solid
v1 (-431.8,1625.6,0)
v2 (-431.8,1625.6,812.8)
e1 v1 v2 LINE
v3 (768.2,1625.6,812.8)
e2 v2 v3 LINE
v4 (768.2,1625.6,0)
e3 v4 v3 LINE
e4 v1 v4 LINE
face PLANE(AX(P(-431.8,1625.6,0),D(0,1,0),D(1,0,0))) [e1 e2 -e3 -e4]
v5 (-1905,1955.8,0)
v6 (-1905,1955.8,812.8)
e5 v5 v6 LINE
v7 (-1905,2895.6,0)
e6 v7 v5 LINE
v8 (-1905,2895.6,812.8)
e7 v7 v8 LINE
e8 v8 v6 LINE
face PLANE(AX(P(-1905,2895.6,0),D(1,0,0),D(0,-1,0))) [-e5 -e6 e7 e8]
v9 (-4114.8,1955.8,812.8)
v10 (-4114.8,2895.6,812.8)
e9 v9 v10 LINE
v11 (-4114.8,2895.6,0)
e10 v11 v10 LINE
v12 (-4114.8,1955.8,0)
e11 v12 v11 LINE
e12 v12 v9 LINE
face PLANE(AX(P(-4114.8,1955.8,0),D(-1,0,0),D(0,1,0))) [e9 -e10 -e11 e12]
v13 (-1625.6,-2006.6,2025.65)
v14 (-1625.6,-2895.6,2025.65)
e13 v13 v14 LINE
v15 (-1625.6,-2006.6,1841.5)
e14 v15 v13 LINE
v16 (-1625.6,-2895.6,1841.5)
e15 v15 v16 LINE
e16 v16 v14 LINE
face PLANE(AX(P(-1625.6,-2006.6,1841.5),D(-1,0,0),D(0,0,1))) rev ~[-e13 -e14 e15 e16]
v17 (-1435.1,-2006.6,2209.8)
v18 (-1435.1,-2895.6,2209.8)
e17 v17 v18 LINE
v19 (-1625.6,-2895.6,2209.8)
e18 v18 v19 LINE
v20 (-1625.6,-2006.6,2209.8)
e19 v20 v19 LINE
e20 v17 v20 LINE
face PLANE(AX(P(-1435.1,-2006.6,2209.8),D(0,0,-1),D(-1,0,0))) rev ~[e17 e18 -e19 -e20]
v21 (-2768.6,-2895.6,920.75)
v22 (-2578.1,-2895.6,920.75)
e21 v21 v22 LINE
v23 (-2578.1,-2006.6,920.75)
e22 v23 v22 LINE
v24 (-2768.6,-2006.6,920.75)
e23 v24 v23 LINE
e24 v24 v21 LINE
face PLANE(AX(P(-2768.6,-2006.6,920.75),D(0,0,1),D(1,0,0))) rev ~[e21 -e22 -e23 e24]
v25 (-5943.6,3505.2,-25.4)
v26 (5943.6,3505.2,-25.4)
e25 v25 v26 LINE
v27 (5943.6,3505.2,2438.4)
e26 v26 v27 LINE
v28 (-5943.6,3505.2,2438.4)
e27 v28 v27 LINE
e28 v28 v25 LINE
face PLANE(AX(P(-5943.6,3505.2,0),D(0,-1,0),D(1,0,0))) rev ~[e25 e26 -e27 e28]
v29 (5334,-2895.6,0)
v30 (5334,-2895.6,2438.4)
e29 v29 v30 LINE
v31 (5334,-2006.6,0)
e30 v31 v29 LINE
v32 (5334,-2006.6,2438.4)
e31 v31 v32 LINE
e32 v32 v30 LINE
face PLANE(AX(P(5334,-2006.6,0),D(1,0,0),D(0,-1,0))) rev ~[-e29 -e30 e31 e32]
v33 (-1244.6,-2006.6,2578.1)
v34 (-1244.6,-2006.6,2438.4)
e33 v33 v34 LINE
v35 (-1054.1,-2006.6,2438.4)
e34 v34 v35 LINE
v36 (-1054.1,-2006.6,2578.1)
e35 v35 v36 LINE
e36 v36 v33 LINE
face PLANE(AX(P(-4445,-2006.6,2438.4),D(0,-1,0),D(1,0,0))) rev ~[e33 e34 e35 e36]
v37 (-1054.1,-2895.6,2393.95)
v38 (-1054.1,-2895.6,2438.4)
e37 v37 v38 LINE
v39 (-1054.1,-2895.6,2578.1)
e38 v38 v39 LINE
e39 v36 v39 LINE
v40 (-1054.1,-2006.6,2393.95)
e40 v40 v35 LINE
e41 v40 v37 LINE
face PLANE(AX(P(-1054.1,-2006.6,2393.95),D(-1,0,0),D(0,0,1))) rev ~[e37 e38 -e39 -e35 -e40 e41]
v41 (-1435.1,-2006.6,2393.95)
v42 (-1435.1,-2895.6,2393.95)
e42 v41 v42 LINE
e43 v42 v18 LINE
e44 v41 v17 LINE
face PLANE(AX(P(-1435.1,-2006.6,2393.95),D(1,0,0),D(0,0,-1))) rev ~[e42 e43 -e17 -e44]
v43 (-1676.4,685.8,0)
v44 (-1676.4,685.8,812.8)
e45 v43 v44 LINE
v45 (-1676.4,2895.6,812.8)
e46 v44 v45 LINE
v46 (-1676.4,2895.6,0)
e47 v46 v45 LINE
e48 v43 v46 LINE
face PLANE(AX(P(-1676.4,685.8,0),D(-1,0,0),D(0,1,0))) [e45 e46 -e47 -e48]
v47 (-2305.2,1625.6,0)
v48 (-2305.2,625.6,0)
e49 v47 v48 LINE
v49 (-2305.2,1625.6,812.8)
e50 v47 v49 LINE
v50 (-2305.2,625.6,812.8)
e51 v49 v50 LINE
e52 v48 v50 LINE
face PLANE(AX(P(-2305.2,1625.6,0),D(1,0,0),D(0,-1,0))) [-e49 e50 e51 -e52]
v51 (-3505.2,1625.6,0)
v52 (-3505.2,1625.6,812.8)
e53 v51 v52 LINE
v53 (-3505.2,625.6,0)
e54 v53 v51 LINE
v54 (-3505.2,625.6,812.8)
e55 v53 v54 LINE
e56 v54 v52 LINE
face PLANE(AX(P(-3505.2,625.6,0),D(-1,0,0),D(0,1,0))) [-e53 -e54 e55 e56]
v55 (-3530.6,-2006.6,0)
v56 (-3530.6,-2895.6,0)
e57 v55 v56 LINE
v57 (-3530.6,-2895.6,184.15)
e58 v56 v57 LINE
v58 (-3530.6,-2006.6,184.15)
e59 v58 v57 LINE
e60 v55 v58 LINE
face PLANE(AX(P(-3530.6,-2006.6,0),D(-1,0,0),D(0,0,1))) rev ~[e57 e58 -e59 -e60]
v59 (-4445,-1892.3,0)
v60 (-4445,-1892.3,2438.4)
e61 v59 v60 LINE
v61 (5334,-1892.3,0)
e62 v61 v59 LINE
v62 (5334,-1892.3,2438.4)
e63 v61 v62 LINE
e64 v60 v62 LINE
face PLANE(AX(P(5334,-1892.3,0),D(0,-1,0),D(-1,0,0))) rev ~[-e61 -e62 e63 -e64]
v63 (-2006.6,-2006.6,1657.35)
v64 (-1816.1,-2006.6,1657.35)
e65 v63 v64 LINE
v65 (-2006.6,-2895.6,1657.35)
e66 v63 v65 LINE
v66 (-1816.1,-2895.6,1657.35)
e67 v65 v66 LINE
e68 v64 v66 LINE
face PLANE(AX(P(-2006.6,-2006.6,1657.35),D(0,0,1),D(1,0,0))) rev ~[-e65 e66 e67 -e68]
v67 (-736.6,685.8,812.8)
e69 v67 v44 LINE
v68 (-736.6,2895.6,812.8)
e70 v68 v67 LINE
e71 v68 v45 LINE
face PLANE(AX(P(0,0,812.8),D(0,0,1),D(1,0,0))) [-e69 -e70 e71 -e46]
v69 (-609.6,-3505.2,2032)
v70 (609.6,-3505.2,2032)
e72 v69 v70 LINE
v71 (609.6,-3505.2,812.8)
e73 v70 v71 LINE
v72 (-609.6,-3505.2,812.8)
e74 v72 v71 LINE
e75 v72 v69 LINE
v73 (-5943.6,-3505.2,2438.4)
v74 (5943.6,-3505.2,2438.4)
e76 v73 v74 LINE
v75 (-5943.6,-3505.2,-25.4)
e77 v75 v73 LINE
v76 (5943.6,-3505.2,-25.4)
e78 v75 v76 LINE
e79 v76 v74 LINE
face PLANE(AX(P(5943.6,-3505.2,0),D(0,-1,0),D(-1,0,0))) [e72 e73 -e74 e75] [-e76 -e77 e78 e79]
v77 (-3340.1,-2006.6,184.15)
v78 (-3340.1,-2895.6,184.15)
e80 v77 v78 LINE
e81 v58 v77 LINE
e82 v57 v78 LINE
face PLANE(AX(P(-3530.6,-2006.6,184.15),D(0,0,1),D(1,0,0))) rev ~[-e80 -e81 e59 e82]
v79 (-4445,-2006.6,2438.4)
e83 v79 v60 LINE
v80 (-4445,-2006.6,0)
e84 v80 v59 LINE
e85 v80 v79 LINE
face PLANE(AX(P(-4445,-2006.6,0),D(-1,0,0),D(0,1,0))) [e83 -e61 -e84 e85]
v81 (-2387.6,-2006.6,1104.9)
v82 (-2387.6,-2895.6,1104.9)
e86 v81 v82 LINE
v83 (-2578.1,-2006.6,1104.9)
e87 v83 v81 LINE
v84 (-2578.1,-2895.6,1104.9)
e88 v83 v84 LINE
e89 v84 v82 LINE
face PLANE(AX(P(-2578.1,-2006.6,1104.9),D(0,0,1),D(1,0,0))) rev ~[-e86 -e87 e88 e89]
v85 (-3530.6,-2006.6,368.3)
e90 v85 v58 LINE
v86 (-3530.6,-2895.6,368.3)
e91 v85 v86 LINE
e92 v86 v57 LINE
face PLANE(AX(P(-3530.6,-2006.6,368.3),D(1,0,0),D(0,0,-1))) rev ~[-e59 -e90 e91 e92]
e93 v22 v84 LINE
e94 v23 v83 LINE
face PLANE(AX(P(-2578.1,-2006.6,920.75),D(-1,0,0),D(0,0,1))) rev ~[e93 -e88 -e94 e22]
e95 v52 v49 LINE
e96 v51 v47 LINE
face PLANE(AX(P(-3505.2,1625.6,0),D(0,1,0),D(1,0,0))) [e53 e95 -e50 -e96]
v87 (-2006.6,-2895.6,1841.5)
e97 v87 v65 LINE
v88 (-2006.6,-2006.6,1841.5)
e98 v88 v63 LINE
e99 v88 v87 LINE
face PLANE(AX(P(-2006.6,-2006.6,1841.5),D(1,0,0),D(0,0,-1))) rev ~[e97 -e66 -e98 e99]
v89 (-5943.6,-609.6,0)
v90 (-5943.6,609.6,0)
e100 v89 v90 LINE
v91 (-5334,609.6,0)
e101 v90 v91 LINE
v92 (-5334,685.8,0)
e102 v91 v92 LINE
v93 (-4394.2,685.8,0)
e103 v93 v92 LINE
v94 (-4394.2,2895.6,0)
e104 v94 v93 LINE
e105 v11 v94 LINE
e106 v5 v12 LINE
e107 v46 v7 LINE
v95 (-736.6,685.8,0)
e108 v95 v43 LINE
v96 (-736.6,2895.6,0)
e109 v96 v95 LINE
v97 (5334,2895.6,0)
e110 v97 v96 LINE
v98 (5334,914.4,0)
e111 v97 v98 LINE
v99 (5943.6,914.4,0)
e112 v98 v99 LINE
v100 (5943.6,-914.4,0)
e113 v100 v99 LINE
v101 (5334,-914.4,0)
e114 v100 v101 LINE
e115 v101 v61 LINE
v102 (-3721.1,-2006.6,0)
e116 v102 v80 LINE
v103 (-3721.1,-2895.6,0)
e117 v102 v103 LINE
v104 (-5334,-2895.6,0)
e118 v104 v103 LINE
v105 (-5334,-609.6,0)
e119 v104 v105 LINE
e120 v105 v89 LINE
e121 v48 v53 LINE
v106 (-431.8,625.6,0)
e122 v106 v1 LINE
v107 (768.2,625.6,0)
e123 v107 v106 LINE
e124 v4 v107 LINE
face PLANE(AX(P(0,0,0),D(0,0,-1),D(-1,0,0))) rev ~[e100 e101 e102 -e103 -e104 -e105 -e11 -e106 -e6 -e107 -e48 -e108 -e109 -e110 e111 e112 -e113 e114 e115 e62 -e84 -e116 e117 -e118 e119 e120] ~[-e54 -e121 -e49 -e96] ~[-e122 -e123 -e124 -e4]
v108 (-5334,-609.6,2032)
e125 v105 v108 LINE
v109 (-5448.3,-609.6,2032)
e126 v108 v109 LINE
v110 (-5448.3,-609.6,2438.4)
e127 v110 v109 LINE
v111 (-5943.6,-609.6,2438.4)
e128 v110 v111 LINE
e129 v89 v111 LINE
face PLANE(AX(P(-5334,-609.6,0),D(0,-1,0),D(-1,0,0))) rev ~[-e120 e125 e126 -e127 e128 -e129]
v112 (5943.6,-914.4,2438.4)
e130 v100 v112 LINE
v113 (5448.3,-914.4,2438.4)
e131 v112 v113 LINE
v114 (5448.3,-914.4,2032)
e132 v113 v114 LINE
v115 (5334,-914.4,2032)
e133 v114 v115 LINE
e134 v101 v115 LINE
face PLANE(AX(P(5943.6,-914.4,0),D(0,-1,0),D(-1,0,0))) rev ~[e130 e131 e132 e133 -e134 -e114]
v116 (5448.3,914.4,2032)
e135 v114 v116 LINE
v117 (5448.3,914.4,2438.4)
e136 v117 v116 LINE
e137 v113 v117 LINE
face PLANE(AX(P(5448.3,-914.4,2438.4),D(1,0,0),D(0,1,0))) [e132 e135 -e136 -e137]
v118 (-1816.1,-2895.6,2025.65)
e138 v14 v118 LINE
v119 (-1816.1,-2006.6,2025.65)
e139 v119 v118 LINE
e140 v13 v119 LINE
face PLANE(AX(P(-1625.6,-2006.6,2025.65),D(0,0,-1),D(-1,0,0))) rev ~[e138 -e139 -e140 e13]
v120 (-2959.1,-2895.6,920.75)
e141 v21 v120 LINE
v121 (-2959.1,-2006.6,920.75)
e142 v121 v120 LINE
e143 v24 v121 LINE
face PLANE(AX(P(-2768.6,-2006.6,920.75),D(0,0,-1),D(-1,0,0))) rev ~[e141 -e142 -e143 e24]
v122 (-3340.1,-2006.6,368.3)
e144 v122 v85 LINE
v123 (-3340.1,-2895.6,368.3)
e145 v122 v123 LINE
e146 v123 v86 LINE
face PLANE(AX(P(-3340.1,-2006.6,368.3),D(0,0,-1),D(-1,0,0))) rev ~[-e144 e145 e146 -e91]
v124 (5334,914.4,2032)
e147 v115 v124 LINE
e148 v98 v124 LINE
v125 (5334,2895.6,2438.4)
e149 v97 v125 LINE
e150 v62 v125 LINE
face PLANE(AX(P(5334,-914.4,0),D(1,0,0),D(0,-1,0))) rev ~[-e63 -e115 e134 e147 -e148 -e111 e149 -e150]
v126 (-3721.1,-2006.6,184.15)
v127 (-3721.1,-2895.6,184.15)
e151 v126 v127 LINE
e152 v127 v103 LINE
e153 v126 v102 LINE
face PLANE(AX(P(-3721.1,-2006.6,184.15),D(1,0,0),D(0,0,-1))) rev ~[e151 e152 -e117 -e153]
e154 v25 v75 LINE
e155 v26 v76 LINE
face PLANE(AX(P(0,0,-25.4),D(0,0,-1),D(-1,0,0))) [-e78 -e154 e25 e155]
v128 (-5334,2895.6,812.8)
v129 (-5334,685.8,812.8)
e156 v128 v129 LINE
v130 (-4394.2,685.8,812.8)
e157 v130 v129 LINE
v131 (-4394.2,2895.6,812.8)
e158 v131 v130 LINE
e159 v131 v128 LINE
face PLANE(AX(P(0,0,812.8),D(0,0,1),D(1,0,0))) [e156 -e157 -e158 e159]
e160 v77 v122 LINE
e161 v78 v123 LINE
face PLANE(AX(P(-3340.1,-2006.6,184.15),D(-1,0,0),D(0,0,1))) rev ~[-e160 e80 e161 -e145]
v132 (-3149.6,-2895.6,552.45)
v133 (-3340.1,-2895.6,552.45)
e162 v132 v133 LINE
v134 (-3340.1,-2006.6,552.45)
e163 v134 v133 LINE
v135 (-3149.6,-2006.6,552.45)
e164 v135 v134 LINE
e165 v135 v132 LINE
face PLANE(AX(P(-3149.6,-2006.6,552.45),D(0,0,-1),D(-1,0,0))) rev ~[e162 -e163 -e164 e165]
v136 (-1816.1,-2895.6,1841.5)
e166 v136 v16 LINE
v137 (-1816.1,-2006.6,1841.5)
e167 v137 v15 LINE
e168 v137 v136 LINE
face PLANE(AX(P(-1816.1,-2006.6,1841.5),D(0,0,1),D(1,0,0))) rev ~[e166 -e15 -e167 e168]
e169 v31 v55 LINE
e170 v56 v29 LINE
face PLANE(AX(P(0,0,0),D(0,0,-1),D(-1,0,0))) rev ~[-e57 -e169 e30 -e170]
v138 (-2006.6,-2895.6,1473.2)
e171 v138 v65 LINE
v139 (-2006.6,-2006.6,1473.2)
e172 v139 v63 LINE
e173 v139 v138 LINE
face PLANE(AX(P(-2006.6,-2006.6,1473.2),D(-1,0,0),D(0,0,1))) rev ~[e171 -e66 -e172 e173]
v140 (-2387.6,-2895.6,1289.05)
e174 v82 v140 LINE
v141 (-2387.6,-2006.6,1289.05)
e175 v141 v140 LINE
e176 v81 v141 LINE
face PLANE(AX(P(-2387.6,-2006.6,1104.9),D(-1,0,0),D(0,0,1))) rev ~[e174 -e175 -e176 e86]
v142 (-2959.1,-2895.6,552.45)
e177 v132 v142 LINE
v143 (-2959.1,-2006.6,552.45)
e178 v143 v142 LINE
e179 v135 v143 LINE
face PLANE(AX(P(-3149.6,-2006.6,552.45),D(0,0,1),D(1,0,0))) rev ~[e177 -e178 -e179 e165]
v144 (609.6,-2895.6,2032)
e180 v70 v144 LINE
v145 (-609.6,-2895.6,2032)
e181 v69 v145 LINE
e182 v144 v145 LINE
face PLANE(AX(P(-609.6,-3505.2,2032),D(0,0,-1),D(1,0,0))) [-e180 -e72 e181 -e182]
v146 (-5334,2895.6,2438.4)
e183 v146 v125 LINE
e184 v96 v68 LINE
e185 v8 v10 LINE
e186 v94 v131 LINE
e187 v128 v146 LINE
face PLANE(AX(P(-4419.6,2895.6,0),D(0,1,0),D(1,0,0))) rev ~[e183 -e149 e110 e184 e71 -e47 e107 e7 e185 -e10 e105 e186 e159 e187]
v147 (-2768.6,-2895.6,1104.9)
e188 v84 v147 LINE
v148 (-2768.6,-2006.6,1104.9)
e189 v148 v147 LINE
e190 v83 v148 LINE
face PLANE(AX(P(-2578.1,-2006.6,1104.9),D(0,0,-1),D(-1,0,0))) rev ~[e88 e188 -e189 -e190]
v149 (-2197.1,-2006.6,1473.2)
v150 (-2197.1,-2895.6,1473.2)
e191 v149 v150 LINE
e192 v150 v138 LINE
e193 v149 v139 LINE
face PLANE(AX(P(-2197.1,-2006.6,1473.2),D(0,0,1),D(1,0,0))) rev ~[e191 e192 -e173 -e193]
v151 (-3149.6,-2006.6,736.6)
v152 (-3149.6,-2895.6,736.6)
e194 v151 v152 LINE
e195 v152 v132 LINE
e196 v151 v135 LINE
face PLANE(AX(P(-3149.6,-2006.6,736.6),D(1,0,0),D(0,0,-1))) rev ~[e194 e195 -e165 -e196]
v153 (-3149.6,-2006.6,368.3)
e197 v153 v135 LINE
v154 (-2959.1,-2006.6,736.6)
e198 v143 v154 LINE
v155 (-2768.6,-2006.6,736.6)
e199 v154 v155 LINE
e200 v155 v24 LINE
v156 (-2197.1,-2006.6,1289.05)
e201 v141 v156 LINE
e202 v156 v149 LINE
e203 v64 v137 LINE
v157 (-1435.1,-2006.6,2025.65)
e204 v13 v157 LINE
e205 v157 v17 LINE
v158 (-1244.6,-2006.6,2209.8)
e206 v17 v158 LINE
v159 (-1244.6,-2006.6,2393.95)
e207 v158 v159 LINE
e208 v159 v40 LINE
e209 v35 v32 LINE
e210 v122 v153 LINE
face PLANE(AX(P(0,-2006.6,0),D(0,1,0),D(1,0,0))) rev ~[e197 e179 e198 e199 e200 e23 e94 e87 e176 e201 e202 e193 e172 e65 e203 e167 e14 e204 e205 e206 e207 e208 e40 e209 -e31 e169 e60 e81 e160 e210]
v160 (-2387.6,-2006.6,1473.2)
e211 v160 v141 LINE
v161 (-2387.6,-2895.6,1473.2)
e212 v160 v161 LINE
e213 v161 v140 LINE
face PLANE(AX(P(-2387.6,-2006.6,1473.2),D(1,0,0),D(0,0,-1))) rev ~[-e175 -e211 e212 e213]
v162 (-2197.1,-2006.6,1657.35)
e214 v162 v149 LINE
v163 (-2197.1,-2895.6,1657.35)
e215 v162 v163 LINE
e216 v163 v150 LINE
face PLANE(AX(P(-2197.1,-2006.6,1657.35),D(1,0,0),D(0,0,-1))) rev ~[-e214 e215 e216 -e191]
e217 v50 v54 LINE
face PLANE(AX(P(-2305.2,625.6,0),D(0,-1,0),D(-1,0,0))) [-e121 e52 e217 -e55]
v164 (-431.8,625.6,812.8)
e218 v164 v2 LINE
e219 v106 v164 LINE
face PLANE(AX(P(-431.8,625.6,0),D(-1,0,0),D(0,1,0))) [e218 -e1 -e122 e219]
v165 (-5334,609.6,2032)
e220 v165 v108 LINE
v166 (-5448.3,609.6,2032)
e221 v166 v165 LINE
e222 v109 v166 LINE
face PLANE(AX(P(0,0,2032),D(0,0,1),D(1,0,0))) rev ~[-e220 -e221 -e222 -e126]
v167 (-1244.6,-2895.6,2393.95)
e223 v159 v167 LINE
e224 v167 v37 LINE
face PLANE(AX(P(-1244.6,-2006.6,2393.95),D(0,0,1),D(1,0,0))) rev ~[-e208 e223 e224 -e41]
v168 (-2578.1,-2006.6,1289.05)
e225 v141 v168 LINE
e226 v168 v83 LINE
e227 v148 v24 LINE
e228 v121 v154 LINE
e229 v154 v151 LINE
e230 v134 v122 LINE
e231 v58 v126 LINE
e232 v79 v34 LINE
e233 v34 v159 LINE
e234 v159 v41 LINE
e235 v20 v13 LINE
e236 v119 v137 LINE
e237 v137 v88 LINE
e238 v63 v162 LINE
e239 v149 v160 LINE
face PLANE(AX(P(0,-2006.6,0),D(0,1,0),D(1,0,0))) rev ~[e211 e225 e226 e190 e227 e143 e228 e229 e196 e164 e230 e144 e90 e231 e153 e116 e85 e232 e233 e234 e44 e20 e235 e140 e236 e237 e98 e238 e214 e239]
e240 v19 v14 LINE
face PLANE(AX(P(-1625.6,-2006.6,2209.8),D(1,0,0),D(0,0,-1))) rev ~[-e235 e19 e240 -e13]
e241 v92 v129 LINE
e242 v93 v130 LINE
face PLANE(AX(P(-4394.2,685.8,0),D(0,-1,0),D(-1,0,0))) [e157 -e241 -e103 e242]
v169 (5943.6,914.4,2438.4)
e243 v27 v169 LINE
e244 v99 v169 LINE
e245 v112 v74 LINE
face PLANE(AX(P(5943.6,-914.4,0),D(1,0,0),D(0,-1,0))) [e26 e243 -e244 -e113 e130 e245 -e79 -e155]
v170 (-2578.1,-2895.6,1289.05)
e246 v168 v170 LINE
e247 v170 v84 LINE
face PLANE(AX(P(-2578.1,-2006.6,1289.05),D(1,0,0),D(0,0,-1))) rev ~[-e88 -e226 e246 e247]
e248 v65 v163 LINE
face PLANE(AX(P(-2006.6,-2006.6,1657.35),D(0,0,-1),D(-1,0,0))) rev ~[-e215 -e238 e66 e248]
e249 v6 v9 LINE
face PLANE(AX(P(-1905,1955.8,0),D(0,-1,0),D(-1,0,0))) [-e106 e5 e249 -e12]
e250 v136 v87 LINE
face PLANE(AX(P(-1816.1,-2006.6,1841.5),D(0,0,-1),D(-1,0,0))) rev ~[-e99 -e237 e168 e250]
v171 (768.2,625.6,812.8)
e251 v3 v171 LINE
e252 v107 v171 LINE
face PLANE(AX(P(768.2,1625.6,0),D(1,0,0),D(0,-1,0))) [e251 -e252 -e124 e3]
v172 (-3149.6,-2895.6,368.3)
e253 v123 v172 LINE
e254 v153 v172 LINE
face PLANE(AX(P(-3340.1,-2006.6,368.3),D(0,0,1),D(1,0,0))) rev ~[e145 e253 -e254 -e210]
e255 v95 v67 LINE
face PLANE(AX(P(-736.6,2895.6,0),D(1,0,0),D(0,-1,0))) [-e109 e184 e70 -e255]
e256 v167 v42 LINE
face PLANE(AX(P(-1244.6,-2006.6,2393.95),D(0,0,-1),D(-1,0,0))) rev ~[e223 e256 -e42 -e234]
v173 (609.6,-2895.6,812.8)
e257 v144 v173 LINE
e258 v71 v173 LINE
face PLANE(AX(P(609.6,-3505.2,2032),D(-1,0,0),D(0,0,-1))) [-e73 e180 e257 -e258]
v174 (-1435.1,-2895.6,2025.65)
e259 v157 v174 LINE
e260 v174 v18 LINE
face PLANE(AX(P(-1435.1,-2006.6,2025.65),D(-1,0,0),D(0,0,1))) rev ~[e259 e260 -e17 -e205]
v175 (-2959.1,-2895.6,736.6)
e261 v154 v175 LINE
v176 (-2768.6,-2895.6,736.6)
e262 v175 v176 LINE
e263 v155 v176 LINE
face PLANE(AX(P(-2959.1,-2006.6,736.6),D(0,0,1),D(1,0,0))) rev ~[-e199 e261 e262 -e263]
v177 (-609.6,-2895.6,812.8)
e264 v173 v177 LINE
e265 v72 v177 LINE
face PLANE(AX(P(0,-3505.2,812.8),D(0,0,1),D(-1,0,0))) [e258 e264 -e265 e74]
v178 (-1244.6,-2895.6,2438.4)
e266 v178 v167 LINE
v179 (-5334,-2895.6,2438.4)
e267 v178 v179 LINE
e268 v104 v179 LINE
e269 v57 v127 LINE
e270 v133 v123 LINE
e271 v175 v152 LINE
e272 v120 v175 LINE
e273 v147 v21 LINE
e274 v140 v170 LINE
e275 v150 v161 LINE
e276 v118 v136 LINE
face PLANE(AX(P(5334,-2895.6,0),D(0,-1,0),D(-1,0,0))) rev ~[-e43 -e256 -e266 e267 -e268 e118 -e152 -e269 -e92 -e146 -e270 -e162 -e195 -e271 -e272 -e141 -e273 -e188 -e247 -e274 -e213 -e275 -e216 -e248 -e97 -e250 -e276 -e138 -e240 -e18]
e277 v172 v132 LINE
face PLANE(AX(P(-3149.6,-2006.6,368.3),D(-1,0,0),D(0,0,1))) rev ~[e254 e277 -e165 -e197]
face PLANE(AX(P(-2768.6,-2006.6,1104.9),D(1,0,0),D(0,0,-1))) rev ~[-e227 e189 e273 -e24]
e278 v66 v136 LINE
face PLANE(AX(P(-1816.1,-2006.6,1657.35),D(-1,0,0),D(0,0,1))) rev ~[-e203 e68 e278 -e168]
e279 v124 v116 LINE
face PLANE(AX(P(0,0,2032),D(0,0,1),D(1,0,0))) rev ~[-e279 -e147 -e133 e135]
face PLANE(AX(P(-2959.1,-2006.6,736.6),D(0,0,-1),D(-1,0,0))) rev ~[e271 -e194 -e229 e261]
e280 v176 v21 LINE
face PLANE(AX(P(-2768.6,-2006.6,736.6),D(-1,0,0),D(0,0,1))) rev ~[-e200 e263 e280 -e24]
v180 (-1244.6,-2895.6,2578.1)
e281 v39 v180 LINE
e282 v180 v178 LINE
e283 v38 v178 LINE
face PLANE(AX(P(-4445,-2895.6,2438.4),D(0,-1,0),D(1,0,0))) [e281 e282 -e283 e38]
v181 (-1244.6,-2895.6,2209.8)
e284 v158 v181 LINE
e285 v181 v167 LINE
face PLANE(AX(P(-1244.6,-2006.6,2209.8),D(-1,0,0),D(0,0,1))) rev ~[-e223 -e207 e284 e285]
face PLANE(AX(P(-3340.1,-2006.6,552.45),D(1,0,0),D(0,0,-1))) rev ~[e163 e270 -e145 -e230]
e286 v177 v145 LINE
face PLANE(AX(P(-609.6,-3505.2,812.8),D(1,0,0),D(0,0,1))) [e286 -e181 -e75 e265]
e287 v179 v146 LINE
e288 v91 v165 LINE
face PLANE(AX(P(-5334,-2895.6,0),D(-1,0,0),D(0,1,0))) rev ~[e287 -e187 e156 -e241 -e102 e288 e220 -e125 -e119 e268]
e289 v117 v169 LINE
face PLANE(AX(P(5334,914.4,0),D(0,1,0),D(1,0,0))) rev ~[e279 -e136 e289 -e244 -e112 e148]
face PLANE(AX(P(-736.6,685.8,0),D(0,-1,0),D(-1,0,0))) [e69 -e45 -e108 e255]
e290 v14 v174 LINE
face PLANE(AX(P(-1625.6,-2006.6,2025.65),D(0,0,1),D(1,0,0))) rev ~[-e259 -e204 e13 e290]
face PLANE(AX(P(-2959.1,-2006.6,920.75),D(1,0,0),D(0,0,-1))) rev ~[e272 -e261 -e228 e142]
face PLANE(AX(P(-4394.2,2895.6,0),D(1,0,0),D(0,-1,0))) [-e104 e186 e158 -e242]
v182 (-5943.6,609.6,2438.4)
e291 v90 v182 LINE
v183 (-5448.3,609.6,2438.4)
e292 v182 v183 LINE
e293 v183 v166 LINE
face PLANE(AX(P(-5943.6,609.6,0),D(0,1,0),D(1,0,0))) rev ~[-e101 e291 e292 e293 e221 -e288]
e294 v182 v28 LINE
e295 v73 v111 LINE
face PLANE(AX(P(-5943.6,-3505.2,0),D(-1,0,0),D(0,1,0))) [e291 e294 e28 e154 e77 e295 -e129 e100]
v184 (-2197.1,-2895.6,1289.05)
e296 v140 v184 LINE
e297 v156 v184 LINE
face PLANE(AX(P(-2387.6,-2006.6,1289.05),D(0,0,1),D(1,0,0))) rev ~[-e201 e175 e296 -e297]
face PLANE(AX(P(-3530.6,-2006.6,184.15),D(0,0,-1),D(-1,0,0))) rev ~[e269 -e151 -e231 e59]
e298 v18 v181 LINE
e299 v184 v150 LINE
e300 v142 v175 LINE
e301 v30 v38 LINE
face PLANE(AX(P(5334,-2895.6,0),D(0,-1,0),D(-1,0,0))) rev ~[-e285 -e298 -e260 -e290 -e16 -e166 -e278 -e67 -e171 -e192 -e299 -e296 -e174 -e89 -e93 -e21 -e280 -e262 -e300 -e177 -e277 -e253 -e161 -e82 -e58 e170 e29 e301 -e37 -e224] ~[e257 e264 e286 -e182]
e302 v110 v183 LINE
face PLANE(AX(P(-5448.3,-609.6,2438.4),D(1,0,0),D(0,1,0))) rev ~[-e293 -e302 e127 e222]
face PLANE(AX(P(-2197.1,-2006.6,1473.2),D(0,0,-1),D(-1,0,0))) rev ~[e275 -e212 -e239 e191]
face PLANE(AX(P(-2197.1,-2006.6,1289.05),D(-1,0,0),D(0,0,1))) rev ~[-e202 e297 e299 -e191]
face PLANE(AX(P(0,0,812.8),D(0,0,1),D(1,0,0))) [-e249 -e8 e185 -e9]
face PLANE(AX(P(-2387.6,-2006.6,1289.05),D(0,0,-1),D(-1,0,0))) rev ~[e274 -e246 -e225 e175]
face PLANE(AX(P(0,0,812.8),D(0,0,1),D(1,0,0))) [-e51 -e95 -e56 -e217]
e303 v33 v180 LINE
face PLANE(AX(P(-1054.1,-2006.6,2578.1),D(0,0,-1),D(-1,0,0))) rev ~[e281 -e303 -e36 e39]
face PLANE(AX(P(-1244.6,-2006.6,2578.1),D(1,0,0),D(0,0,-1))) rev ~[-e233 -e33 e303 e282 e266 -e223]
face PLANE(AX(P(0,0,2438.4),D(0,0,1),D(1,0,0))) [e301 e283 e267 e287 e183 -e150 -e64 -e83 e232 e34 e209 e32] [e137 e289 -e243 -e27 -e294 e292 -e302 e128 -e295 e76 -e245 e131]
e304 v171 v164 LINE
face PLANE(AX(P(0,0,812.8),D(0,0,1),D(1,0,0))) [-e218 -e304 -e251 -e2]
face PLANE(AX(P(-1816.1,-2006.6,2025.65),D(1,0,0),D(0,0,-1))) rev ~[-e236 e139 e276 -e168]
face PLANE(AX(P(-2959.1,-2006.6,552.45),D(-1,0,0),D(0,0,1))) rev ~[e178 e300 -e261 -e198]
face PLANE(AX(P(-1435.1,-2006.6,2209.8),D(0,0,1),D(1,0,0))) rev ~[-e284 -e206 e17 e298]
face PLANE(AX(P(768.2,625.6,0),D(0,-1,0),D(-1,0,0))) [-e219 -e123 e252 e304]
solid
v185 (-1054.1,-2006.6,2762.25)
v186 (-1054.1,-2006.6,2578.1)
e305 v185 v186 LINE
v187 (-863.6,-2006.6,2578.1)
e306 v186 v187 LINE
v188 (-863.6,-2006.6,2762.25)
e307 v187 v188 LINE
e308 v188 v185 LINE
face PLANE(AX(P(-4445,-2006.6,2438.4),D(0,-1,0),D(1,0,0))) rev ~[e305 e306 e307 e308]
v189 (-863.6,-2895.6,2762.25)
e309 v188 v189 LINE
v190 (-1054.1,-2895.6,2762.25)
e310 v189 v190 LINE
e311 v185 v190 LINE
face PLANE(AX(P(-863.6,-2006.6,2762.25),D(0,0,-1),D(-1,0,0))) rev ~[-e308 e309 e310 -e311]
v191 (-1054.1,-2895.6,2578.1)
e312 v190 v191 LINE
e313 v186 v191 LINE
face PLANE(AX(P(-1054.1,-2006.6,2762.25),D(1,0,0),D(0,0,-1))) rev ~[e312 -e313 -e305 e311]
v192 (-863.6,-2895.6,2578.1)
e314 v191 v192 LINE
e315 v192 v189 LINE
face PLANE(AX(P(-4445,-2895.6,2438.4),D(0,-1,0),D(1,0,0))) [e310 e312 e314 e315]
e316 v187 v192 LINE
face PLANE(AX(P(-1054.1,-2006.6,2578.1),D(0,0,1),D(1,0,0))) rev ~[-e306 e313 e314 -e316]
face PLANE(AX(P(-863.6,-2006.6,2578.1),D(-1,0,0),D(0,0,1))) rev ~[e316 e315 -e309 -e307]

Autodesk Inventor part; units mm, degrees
ref_plane "YZ Plane" through (0, 0, 0) normal (1, 0, 0) x (0, 1, 0)
ref_plane "XZ Plane" through (0, 0, 0) normal (0, 1, 0) x (-1, 0, 0)
ref_plane "XY Plane" through (0, 0, 0) normal (0, 0, 1) x (1, 0, 0)
sketch "Sketch1" plane through (0, 0, 0) normal (0, 0, 1) x (1, 0, 0)
  line L0 (-8321.04, 0) -> (8321.04, 0) projected
  line L1 (-5943.6, 3505.2) -> (5943.6, 3505.2)
  line L2 (-5334, 2895.6) -> (5334, 2895.6)
  line L3 (-4572, 2895.6) -> (-4419.6, 2895.6)
  line L4 (-1981.2, -2006.6) -> (-4445, -2006.6)
  line L5 (-4445, -2006.6) -> (-4445, -1892.3)
  line L6 (-1219.2, -2895.6) -> (-1066.8, -2895.6)
  line L7 (5334, -2895.6) -> (0, -2895.6)
  line L8 (0, -2895.6) -> (-5334, -2895.6)
  line L9 (5943.6, -3505.2) -> (0, -3505.2)
  line L10 (0, -3505.2) -> (-5943.6, -3505.2)
  line L11 (5334, 914.4) -> (5943.6, 914.4)
  line L12 (5943.6, -914.4) -> (5334, -914.4)
  line L13 (5334, 2895.6) -> (5334, 914.4)
  line L14 (5334, -914.4) -> (5334, -2895.6)
  line L15 (5943.6, 3505.2) -> (5943.6, 914.4)
  line L16 (5943.6, -914.4) -> (5943.6, -3505.2)
  line L17 (-4445, -2006.6) -> (5334, -2006.6)
  line L18 (5334, -1892.3) -> (-4445, -1892.3)
  line L19 (-4445, -1892.3) -> (-4445, -2006.6)
  line L20 (5334, -1892.3) -> (5334, -2006.6)
  line L21 (-5943.6, 609.6) -> (-5334, 609.6)
  line L22 (-5334, -609.6) -> (-5943.6, -609.6)
  line L23 (-5943.6, -3505.2) -> (-5943.6, -609.6)
  line L24 (-5943.6, 609.6) -> (-5943.6, 3505.2)
  line L25 (-5334, -2895.6) -> (-5334, -609.6)
  line L26 (-5334, 609.6) -> (-5334, 2895.6)
  line L27 (-4445, -2006.6) -> (-4419.6, -2006.6)
  line L28 (-4419.6, 2895.6) -> (-4572, 2895.6)
  line L29 (-4445, -1892.3) -> (-4445, -2006.6)
  line L30 (0, -4907.28) -> (0, 4907.28) projected
  dimension "d18" = 7010.4
  dimension "d19" = 609.6
  dimension "d20" = 609.6
  dimension "d23" = 1828.8
  dimension "d24" = 2590.8
  dimension "d25" = 609.6
  dimension "d28" = 114.3
  dimension "d29" = 0
  dimension "d34" = 1219.2
  dimension "d35" = 2895.6
  dimension "d36" = 609.6
  dimension "d46" = 889
  dimension "d105" = 889
  dimension "d106" = 11887.2
extrude "Extrusion9" add sketch "Sketch1" along normal blind 2438.4 contours L18 L14 L17 L30 | L30 L17 L4 L5 L18 | L1 L30 L2 L26 L21 L24 | L1 L15 L11 L13 L2 L30 | L14 L12 L16 L9 L30 L7 | L30 L10 L23 L22 L25 L8 L6
sketch "Sketch8" plane through (0, 0, 0) normal (0, 0, -1) x (-1, 0, 0)
  line L0 (5943.6, 3505.2) -> (-5943.6, 3505.2) projected
  line L1 (-5943.6, 3505.2) -> (-5943.6, 914.4) projected
  line L2 (-5943.6, 914.4) -> (-5334, 914.4) projected
  line L3 (-5334, 914.4) -> (-5334, 2895.6) projected
  line L4 (-5334, 2895.6) -> (5334, 2895.6) projected
  line L5 (5334, 2895.6) -> (5334, 609.6) projected
  line L6 (5334, 609.6) -> (5943.6, 609.6) projected
  line L7 (5943.6, 609.6) -> (5943.6, 3505.2) projected
  line L8 (-5943.6, 3505.2) -> (5943.6, 3505.2)
  line L9 (5943.6, 3505.2) -> (5943.6, -3505.2)
  line L10 (5943.6, -3505.2) -> (-5943.6, -3505.2)
  line L11 (-5943.6, -3505.2) -> (-5943.6, 3505.2)
  point P0 (0, 0)
extrude "Extrusion10" add sketch "Sketch8" along normal blind 25.4
sketch "Sketch10" plane through (-4445, -2006.6, 2438.4) normal (0, -1, 0) x (1, 0, 0)
  line L0 (0, -2438.4) -> (9779, -2438.4) projected
  line L1 (0, -2438.4) -> (0, 0) projected
  line L2 (723.9, -2438.4) -> (914.4, -2438.4)
  line L3 (914.4, -2438.4) -> (914.4, -2254.25)
  line L4 (914.4, -2254.25) -> (723.9, -2254.25)
  line L5 (723.9, -2254.25) -> (723.9, -2438.4)
  line L6 (914.4, -2254.25) -> (1104.9, -2254.25)
  line L7 (1104.9, -2254.25) -> (1104.9, -2070.1)
  line L8 (1104.9, -2070.1) -> (914.4, -2070.1)
  line L9 (914.4, -2070.1) -> (914.4, -2254.25)
  line L10 (1104.9, -2070.1) -> (1295.4, -2070.1)
  line L11 (1295.4, -2070.1) -> (1295.4, -1885.95)
  line L12 (1295.4, -1885.95) -> (1104.9, -1885.95)
  line L13 (1104.9, -1885.95) -> (1104.9, -2070.1)
  line L14 (1295.4, -1885.95) -> (1485.9, -1885.95)
  line L15 (1485.9, -1885.95) -> (1485.9, -1701.8)
  line L16 (1485.9, -1701.8) -> (1295.4, -1701.8)
  line L17 (1295.4, -1701.8) -> (1295.4, -1885.95)
  line L18 (1485.9, -1701.8) -> (1676.4, -1701.8)
  line L19 (1676.4, -1701.8) -> (1676.4, -1517.65)
  line L20 (1676.4, -1517.65) -> (1485.9, -1517.65)
  line L21 (1485.9, -1517.65) -> (1485.9, -1701.8)
  line L22 (1676.4, -1517.65) -> (1866.9, -1517.65)
  line L23 (1866.9, -1517.65) -> (1866.9, -1333.5)
  line L24 (1866.9, -1333.5) -> (1676.4, -1333.5)
  line L25 (1676.4, -1333.5) -> (1676.4, -1517.65)
  line L26 (1866.9, -1333.5) -> (2057.4, -1333.5)
  line L27 (2057.4, -1333.5) -> (2057.4, -1149.35)
  line L28 (2057.4, -1149.35) -> (1866.9, -1149.35)
  line L29 (1866.9, -1149.35) -> (1866.9, -1333.5)
  line L30 (2438.4, -965.2) -> (2438.4, -781.05)
  line L31 (2247.9, -1149.35) -> (2247.9, -965.2)
  line L32 (2247.9, -965.2) -> (2438.4, -965.2)
  line L33 (2438.4, -781.05) -> (2247.9, -781.05)
  line L34 (2247.9, -781.05) -> (2247.9, -965.2)
  line L35 (2057.4, -1149.35) -> (2247.9, -1149.35)
  line L36 (2247.9, -965.2) -> (2057.4, -965.2)
  line L37 (2057.4, -965.2) -> (2057.4, -1149.35)
  line L38 (2628.9, -781.05) -> (2628.9, -596.9)
  line L39 (2438.4, -781.05) -> (2628.9, -781.05)
  line L40 (2628.9, -596.9) -> (2438.4, -596.9)
  line L41 (2438.4, -596.9) -> (2438.4, -781.05)
  line L42 (3200.4, -228.6) -> (3200.4, -44.45)
  line L43 (3200.4, 139.7) -> (3200.4, -44.45)
  line L44 (3200.4, -44.45) -> (3390.9, -44.45)
  line L45 (3390.9, 139.7) -> (3200.4, 139.7)
  line L46 (3009.9, -44.45) -> (3009.9, -228.6)
  line L47 (3009.9, -228.6) -> (3200.4, -228.6)
  line L48 (3200.4, -44.45) -> (3009.9, -44.45)
  line L49 (3390.9, -44.45) -> (3390.9, 139.7)
  line L50 (3009.9, -412.75) -> (3009.9, -228.6)
  line L51 (3009.9, -228.6) -> (2819.4, -228.6)
  line L52 (2819.4, -412.75) -> (3009.9, -412.75)
  line L53 (2819.4, -228.6) -> (2819.4, -412.75)
  line L54 (2819.4, -596.9) -> (2819.4, -412.75)
  line L55 (2819.4, -412.75) -> (2628.9, -412.75)
  line L56 (2628.9, -596.9) -> (2819.4, -596.9)
  line L57 (2628.9, -412.75) -> (2628.9, -596.9)
  line L58 (3390.9, 139.7) -> (3581.4, 139.7)
  line L59 (3581.4, 139.7) -> (3581.4, 323.85)
  line L60 (3581.4, 323.85) -> (3390.9, 323.85)
  line L61 (3390.9, 323.85) -> (3390.9, 139.7)
  point P0 (8445.5, -2438.4)
  point P1 (4445, -2438.4)
  dimension "d113" = 190.5
  dimension "d115" = 184.15
  dimension "d116" = 723.9
  dimension "d117" = 190.5
  dimension "d118" = 184.15
  dimension "d119" = 190.5
  dimension "d120" = 184.15
  dimension "d121" = 190.5
  dimension "d122" = 184.15
  dimension "d123" = 190.5
  dimension "d124" = 184.15
  dimension "d125" = 190.5
  dimension "d126" = 184.15
  dimension "d127" = 190.5
  dimension "d128" = 184.15
  dimension "d129" = 190.5
  dimension "d130" = 184.15
  dimension "d131" = 190.5
  dimension "d132" = 184.15
  dimension "d133" = 190.5
  dimension "d134" = 184.15
  dimension "d135" = 190.5
  dimension "d136" = 184.15
  dimension "d137" = 190.5
  dimension "d138" = 184.15
  dimension "d139" = 190.5
  dimension "d140" = 184.15
  dimension "d141" = 190.5
  dimension "d142" = 184.15
  dimension "d154" = 184.15
  dimension "d155" = 190.5
extrude "Stairs" add sketch "Sketch10" along normal up to surface (889 mm away)
sketch "Sketch9" plane through (0, 0, 2438.4) normal (0, 0, 1) x (1, 0, 0)
  line L0 (5943.6, 3505.2) -> (-5943.6, 3505.2) projected
  line L1 (-5943.6, 3505.2) -> (-5943.6, 609.6) projected
  line L2 (-5943.6, 609.6) -> (-5334, 609.6) projected
  line L3 (-5334, 609.6) -> (-5334, 2895.6) projected
  line L4 (-5334, 2895.6) -> (5334, 2895.6) projected
  line L5 (5334, 2895.6) -> (5334, 914.4) projected
  line L6 (5334, 914.4) -> (5943.6, 914.4) projected
  line L7 (5943.6, 914.4) -> (5943.6, 3505.2) projected
  line L8 (-5943.6, 609.6) -> (-5334, 609.6)
  line L9 (-5334, 609.6) -> (-5334, -609.6)
  line L10 (-5334, -609.6) -> (-5943.6, -609.6)
  line L11 (-5943.6, -609.6) -> (-5943.6, 609.6)
  line L12 (5334, 914.4) -> (5943.6, 914.4)
  line L13 (5943.6, 914.4) -> (5943.6, -914.4)
  line L14 (5943.6, -914.4) -> (5334, -914.4)
  line L15 (5334, -914.4) -> (5334, 914.4)
  line L16 (-5943.6, 609.6) -> (-5334, 609.6) projected
  line L17 (5334, 914.4) -> (5943.6, 914.4) projected
  line L18 (-5334, -609.6) -> (-5448.3, -609.6)
  line L19 (-5448.3, -609.6) -> (-5448.3, 609.6)
  line L20 (-5448.3, 609.6) -> (-5334, 609.6)
  line L21 (-5334, 609.6) -> (-5334, -609.6)
  line L22 (5334, -914.4) -> (5448.3, -914.4)
  line L23 (5448.3, -914.4) -> (5448.3, 914.4)
  line L24 (5448.3, 914.4) -> (5334, 914.4)
  line L25 (5334, 914.4) -> (5334, -914.4)
  point P0 (0, 0)
  dimension "d241" = 114.3
  dimension "d242" = 114.3
extrude "Doorways" add sketch "Sketch9" against normal blind 406.4 contours L23 L14 L15 L6 | L2 L9 L10 L19
sketch "Sketch11" plane through (-5943.6, -3505.2, 2438.4) normal (0, -1, 0) x (1, 0, 0)
  line L0 (5334, -406.4) -> (6553.2, -406.4)
  line L1 (6553.2, -406.4) -> (6553.2, -1625.6)
  line L2 (6553.2, -1625.6) -> (5334, -1625.6)
  line L3 (5334, -1625.6) -> (5334, -406.4)
  line L4 (11277.6, -2438.4) -> (2413, -2438.4) projected
  line L5 (5943.6, -2956.56) -> (5943.6, 492.76) projected
  point P0 (5943.6, -2438.4)
  dimension "d145" = 1219.2
  dimension "d147" = 1219.2
  dimension "d148" = 812.8
extrude "Window" cut sketch "Sketch11" against normal up to surface (609.6 mm away)
sketch "Furniture1" plane through (0, 0, 0) normal (0, 0, 1) x (1, 0, 0)
  line L0 (5334, 2895.6) -> (-5334, 2895.6) projected
  line L1 (-5334, 2895.6) -> (-5334, 609.6) projected
  line L2 (-5334, 2895.6) -> (-4394.2, 2895.6)
  line L3 (-4394.2, 2895.6) -> (-4394.2, 685.8)
  line L4 (-4394.2, 685.8) -> (-5334, 685.8)
  line L5 (-5334, 685.8) -> (-5334, 2895.6)
  line L6 (-4114.8, 2895.6) -> (-1905, 2895.6)
  line L7 (-1905, 2895.6) -> (-1905, 1955.8)
  line L8 (-1905, 1955.8) -> (-4114.8, 1955.8)
  line L9 (-4114.8, 1955.8) -> (-4114.8, 2895.6)
  line L10 (-1676.4, 2895.6) -> (-736.6, 2895.6)
  line L11 (-736.6, 2895.6) -> (-736.6, 685.8)
  line L12 (-736.6, 685.8) -> (-1676.4, 685.8)
  line L13 (-1676.4, 685.8) -> (-1676.4, 2895.6)
  line L14 (-3505.2, 1625.6) -> (-2305.2, 1625.6)
  line L15 (-2305.2, 1625.6) -> (-2305.2, 625.6)
  line L16 (-2305.2, 625.6) -> (-3505.2, 625.6)
  line L17 (-3505.2, 625.6) -> (-3505.2, 1625.6)
  line L18 (-431.8, 1625.6) -> (768.2, 1625.6)
  line L19 (768.2, 1625.6) -> (768.2, 625.6)
  line L20 (768.2, 625.6) -> (-431.8, 625.6)
  line L21 (-431.8, 625.6) -> (-431.8, 1625.6)
  point P0 (0, 0)
  dimension "d247" = 1000
  dimension "d248" = 1200
  dimension "d249" = 1000
  dimension "d250" = 1200
  dimension "d251" = 1270
  dimension "d252" = 1828.8
  dimension "d253" = 304.8
  dimension "d254" = 2209.8
  dimension "d255" = 939.8
  dimension "d256" = 939.8
  dimension "d257" = 939.8
  dimension "d258" = 2209.8
  dimension "d259" = 1219.2
  dimension "d260" = 3657.6
extrude "Furniture+Pallets" add sketch "Furniture1" along normal blind 812.8
sketch "Instruments" plane through (0, 0, 0) normal (0, 0, 1) x (1, 0, 0)
  line L0 (5943.6, -914.4) -> (5334, -914.4) projected
  line L1 (5943.6, 914.4) -> (5334, 914.4) projected
  line L2 (-5334, 2895.6) -> (-5334, 609.6) projected
  line L3 (-5334, -609.6) -> (-5943.6, -609.6) projected
  line L4 (-8930.6312, 0) -> (8769.3036, 0) projected
  circle A0 centre (-1778, 0) radius 152.4
  circle A1 centre (1778, 0) radius 152.4
  circle A2 centre (-4889.5, -2451.1) radius 152.4
  line L5 (-5181.6, -152.4) -> (-5486.4, -152.4)
  line L6 (-5486.4, -152.4) -> (-5486.4, 152.4)
  line L7 (-5486.4, 152.4) -> (-5181.6, -152.4)
  line L8 (-5943.6, -3505.2) -> (-5943.6, 3505.2) projected
  line L9 (-5334, -609.6) -> (-5943.6, -609.6)
  line L10 (-5943.6, -609.6) -> (-5943.6, 609.6)
  line L11 (-5943.6, 609.6) -> (-5334, 609.6)
  line L12 (-5334, 609.6) -> (-5334, -609.6)
  line L13 (-5486.4, 609.6) -> (-5334, 609.6)
  line L14 (-5334, 609.6) -> (-5334, 457.2)
  line L15 (-5334, 457.2) -> (-5486.4, 457.2)
  line L16 (-5486.4, 457.2) -> (-5486.4, 609.6)
  line L17 (-5334, -609.6) -> (-5486.4, -609.6)
  line L18 (-5486.4, -609.6) -> (-5486.4, -457.2)
  line L19 (-5486.4, -457.2) -> (-5334, -457.2)
  line L20 (-5334, -457.2) -> (-5334, -609.6)
  line L21 (5943.6, 3505.2) -> (5943.6, -3505.2) projected
  line L22 (5486.4, 914.4) -> (5943.6, 914.4)
  line L23 (5943.6, 914.4) -> (5943.6, 1371.6)
  line L24 (5943.6, 1371.6) -> (5486.4, 1371.6)
  line L25 (5486.4, 1371.6) -> (5486.4, 914.4)
  line L26 (5943.6, -914.4) -> (5486.4, -914.4)
  line L27 (5486.4, -914.4) -> (5486.4, -1371.6)
  line L28 (5486.4, -1371.6) -> (5943.6, -1371.6)
  line L29 (5943.6, -1371.6) -> (5943.6, -914.4)
  line L30 (5486.4, 1371.6) -> (5943.6, 1371.6)
  line L31 (5943.6, 1371.6) -> (5943.6, -1371.6)
  line L32 (5943.6, -1371.6) -> (5486.4, -1371.6)
  line L33 (5334, 914.4) -> (5486.4, 914.4)
  line L34 (5486.4, 914.4) -> (5486.4, 0)
  line L35 (5486.4, 0) -> (5334, 0)
  line L36 (5334, 0) -> (5334, 914.4)
  line L37 (-5334, -2895.6) -> (-5334, 2895.6) projected
  line L38 (-1244.6, -2895.6) -> (-5334, -2895.6) projected
  line L39 (-5943.6, -609.6) -> (-5943.6, -3505.2) projected
  line L40 (-5943.6, -3505.2) -> (5943.6, -3505.2) projected
  line L41 (5943.6, -3505.2) -> (5943.6, -914.4) projected
  line L42 (5943.6, 3505.2) -> (-5943.6, 3505.2) projected
  line L43 (-5334, -2895.6) -> (-5334, 2895.6) projected
  line L44 (-5334, 2895.6) -> (5334, 2895.6) projected
  line L45 (5334, 2895.6) -> (5334, -1892.3) projected
  line L46 (5334, -1892.3) -> (-4445, -1892.3) projected
  line L47 (-4445, -1892.3) -> (-4445, -2006.6) projected
  line L48 (-4445, -2006.6) -> (-1244.6, -2006.6) projected
  line L49 (-1244.6, -2006.6) -> (-1054.1, -2006.6) projected
  line L50 (-1054.1, -2006.6) -> (5334, -2006.6) projected
  line L51 (5334, -2895.6) -> (-1054.1, -2895.6) projected
  line L52 (-1054.1, -2895.6) -> (-1244.6, -2895.6) projected
  line L53 (-1244.6, -2895.6) -> (-5334, -2895.6) projected
  line L54 (-5486.4, 457.2) -> (-5486.4, -457.2)
  line L55 (5486.4, 304.8) -> (5181.6, 304.8)
  line L56 (5181.6, 304.8) -> (5181.6, 609.6)
  line L57 (5486.4, 304.8) -> (5181.6, 609.6) construction
  line L58 (5181.6, 304.8) -> (5486.4, 609.6) construction
  line L59 (5181.6, 609.6) -> (5486.4, 304.8)
  line L60 (5486.4, -1371.6) -> (5486.4, 304.8)
  line L61 (5486.4, 609.6) -> (5486.4, 1371.6)
  line L62 (5181.6, -609.6) -> (5486.4, -609.6)
  line L63 (5181.6, -304.8) -> (5181.6, -609.6)
  line L64 (5181.6, -609.6) -> (5486.4, -304.8) construction
  line L65 (5486.4, -609.6) -> (5181.6, -304.8) construction
  line L66 (5181.6, -304.8) -> (5486.4, -609.6)
  line L67 (-5943.6, 3505.2) -> (-5943.6, 609.6) projected
  line L68 (-5943.6, 609.6) -> (-5448.3, 609.6) projected
  line L69 (5448.3, 914.4) -> (5943.6, 914.4) projected
  line L70 (5943.6, 914.4) -> (5943.6, 3505.2) projected
  line L71 (-5448.3, -609.6) -> (-5943.6, -609.6) projected
  line L72 (5943.6, -914.4) -> (5448.3, -914.4) projected
  line L73 (-5448.3, 609.6) -> (-5448.3, -609.6) projected
  line L74 (5448.3, -914.4) -> (5448.3, 914.4) projected
  line L75 (5334, -2006.6) -> (5334, -2895.6) projected
  point P0 (0, 0)
  point P1 (1.5875, 1.5875)
  point P2 (770.0638, -2405.9824)
  point P3 (-4729.4618, 0)
  point P4 (5334, 457.2)
  point P5 (5334, -457.2)
  dimension "d161" = 304.8
  dimension "d163" = 304.8
  dimension "d164" = 3556
  dimension "d165" = 7112
  dimension "d166" = 304.8
  dimension "d172" = 304.8
  dimension "d173" = 304.8
  dimension "d192" = 152.4
  dimension "d193" = 152.4
  dimension "d194" = 152.4
  dimension "d195" = 457.2
  dimension "d196" = 457.2
  dimension "d197" = 457.2
  dimension "d198" = 457.2
  dimension "d227" = 444.5
  dimension "d228" = 444.5
  dimension "d229" = 152.4
  dimension "d230" = 152.4
  dimension "d231" = 457.2
  dimension "d234" = 304.8
  dimension "d235" = 304.8
  dimension "d236" = 152.4
  dimension "d237" = 304.8
  dimension "d238" = 304.8
  dimension "d239" = 152.4
  dimension "d240" = 457.2
sketch "Furniture2" plane through (0, 0, 0) normal (0, 0, 1) x (1, 0, 0)
  line L0 (5334, 2895.6) -> (-5334, 2895.6) projected
  line L1 (-5334, 2895.6) -> (-4394.2, 2895.6)
  line L2 (-4394.2, 2895.6) -> (-4394.2, 685.8)
  line L3 (-4394.2, 685.8) -> (-5334, 685.8)
  line L4 (-5334, 685.8) -> (-5334, 2895.6)
  line L5 (-3175, 2895.6) -> (-2235.2, 2895.6)
  line L6 (-2235.2, 2895.6) -> (-2235.2, 685.8)
  line L7 (-2235.2, 685.8) -> (-3175, 685.8)
  line L8 (-3175, 685.8) -> (-3175, 2895.6)
  line L9 (-76.2, 2895.6) -> (-76.2, 685.8)
  line L10 (-76.2, 685.8) -> (-1016, 685.8)
  line L11 (-1016, 2895.6) -> (-76.2, 2895.6)
  line L12 (-1016, 685.8) -> (-1016, 2895.6)
  point P0 (0, 0)
  dimension "d261" = 2209.8
  dimension "d262" = 939.8
  dimension "d263" = 2209.8
  dimension "d264" = 939.8
  dimension "d265" = 2209.8
  dimension "d266" = 939.8
  dimension "d267" = 1219.2
  dimension "d268" = 1219.2
properties part number "West_Structure_1st_Floor_CAFS"
